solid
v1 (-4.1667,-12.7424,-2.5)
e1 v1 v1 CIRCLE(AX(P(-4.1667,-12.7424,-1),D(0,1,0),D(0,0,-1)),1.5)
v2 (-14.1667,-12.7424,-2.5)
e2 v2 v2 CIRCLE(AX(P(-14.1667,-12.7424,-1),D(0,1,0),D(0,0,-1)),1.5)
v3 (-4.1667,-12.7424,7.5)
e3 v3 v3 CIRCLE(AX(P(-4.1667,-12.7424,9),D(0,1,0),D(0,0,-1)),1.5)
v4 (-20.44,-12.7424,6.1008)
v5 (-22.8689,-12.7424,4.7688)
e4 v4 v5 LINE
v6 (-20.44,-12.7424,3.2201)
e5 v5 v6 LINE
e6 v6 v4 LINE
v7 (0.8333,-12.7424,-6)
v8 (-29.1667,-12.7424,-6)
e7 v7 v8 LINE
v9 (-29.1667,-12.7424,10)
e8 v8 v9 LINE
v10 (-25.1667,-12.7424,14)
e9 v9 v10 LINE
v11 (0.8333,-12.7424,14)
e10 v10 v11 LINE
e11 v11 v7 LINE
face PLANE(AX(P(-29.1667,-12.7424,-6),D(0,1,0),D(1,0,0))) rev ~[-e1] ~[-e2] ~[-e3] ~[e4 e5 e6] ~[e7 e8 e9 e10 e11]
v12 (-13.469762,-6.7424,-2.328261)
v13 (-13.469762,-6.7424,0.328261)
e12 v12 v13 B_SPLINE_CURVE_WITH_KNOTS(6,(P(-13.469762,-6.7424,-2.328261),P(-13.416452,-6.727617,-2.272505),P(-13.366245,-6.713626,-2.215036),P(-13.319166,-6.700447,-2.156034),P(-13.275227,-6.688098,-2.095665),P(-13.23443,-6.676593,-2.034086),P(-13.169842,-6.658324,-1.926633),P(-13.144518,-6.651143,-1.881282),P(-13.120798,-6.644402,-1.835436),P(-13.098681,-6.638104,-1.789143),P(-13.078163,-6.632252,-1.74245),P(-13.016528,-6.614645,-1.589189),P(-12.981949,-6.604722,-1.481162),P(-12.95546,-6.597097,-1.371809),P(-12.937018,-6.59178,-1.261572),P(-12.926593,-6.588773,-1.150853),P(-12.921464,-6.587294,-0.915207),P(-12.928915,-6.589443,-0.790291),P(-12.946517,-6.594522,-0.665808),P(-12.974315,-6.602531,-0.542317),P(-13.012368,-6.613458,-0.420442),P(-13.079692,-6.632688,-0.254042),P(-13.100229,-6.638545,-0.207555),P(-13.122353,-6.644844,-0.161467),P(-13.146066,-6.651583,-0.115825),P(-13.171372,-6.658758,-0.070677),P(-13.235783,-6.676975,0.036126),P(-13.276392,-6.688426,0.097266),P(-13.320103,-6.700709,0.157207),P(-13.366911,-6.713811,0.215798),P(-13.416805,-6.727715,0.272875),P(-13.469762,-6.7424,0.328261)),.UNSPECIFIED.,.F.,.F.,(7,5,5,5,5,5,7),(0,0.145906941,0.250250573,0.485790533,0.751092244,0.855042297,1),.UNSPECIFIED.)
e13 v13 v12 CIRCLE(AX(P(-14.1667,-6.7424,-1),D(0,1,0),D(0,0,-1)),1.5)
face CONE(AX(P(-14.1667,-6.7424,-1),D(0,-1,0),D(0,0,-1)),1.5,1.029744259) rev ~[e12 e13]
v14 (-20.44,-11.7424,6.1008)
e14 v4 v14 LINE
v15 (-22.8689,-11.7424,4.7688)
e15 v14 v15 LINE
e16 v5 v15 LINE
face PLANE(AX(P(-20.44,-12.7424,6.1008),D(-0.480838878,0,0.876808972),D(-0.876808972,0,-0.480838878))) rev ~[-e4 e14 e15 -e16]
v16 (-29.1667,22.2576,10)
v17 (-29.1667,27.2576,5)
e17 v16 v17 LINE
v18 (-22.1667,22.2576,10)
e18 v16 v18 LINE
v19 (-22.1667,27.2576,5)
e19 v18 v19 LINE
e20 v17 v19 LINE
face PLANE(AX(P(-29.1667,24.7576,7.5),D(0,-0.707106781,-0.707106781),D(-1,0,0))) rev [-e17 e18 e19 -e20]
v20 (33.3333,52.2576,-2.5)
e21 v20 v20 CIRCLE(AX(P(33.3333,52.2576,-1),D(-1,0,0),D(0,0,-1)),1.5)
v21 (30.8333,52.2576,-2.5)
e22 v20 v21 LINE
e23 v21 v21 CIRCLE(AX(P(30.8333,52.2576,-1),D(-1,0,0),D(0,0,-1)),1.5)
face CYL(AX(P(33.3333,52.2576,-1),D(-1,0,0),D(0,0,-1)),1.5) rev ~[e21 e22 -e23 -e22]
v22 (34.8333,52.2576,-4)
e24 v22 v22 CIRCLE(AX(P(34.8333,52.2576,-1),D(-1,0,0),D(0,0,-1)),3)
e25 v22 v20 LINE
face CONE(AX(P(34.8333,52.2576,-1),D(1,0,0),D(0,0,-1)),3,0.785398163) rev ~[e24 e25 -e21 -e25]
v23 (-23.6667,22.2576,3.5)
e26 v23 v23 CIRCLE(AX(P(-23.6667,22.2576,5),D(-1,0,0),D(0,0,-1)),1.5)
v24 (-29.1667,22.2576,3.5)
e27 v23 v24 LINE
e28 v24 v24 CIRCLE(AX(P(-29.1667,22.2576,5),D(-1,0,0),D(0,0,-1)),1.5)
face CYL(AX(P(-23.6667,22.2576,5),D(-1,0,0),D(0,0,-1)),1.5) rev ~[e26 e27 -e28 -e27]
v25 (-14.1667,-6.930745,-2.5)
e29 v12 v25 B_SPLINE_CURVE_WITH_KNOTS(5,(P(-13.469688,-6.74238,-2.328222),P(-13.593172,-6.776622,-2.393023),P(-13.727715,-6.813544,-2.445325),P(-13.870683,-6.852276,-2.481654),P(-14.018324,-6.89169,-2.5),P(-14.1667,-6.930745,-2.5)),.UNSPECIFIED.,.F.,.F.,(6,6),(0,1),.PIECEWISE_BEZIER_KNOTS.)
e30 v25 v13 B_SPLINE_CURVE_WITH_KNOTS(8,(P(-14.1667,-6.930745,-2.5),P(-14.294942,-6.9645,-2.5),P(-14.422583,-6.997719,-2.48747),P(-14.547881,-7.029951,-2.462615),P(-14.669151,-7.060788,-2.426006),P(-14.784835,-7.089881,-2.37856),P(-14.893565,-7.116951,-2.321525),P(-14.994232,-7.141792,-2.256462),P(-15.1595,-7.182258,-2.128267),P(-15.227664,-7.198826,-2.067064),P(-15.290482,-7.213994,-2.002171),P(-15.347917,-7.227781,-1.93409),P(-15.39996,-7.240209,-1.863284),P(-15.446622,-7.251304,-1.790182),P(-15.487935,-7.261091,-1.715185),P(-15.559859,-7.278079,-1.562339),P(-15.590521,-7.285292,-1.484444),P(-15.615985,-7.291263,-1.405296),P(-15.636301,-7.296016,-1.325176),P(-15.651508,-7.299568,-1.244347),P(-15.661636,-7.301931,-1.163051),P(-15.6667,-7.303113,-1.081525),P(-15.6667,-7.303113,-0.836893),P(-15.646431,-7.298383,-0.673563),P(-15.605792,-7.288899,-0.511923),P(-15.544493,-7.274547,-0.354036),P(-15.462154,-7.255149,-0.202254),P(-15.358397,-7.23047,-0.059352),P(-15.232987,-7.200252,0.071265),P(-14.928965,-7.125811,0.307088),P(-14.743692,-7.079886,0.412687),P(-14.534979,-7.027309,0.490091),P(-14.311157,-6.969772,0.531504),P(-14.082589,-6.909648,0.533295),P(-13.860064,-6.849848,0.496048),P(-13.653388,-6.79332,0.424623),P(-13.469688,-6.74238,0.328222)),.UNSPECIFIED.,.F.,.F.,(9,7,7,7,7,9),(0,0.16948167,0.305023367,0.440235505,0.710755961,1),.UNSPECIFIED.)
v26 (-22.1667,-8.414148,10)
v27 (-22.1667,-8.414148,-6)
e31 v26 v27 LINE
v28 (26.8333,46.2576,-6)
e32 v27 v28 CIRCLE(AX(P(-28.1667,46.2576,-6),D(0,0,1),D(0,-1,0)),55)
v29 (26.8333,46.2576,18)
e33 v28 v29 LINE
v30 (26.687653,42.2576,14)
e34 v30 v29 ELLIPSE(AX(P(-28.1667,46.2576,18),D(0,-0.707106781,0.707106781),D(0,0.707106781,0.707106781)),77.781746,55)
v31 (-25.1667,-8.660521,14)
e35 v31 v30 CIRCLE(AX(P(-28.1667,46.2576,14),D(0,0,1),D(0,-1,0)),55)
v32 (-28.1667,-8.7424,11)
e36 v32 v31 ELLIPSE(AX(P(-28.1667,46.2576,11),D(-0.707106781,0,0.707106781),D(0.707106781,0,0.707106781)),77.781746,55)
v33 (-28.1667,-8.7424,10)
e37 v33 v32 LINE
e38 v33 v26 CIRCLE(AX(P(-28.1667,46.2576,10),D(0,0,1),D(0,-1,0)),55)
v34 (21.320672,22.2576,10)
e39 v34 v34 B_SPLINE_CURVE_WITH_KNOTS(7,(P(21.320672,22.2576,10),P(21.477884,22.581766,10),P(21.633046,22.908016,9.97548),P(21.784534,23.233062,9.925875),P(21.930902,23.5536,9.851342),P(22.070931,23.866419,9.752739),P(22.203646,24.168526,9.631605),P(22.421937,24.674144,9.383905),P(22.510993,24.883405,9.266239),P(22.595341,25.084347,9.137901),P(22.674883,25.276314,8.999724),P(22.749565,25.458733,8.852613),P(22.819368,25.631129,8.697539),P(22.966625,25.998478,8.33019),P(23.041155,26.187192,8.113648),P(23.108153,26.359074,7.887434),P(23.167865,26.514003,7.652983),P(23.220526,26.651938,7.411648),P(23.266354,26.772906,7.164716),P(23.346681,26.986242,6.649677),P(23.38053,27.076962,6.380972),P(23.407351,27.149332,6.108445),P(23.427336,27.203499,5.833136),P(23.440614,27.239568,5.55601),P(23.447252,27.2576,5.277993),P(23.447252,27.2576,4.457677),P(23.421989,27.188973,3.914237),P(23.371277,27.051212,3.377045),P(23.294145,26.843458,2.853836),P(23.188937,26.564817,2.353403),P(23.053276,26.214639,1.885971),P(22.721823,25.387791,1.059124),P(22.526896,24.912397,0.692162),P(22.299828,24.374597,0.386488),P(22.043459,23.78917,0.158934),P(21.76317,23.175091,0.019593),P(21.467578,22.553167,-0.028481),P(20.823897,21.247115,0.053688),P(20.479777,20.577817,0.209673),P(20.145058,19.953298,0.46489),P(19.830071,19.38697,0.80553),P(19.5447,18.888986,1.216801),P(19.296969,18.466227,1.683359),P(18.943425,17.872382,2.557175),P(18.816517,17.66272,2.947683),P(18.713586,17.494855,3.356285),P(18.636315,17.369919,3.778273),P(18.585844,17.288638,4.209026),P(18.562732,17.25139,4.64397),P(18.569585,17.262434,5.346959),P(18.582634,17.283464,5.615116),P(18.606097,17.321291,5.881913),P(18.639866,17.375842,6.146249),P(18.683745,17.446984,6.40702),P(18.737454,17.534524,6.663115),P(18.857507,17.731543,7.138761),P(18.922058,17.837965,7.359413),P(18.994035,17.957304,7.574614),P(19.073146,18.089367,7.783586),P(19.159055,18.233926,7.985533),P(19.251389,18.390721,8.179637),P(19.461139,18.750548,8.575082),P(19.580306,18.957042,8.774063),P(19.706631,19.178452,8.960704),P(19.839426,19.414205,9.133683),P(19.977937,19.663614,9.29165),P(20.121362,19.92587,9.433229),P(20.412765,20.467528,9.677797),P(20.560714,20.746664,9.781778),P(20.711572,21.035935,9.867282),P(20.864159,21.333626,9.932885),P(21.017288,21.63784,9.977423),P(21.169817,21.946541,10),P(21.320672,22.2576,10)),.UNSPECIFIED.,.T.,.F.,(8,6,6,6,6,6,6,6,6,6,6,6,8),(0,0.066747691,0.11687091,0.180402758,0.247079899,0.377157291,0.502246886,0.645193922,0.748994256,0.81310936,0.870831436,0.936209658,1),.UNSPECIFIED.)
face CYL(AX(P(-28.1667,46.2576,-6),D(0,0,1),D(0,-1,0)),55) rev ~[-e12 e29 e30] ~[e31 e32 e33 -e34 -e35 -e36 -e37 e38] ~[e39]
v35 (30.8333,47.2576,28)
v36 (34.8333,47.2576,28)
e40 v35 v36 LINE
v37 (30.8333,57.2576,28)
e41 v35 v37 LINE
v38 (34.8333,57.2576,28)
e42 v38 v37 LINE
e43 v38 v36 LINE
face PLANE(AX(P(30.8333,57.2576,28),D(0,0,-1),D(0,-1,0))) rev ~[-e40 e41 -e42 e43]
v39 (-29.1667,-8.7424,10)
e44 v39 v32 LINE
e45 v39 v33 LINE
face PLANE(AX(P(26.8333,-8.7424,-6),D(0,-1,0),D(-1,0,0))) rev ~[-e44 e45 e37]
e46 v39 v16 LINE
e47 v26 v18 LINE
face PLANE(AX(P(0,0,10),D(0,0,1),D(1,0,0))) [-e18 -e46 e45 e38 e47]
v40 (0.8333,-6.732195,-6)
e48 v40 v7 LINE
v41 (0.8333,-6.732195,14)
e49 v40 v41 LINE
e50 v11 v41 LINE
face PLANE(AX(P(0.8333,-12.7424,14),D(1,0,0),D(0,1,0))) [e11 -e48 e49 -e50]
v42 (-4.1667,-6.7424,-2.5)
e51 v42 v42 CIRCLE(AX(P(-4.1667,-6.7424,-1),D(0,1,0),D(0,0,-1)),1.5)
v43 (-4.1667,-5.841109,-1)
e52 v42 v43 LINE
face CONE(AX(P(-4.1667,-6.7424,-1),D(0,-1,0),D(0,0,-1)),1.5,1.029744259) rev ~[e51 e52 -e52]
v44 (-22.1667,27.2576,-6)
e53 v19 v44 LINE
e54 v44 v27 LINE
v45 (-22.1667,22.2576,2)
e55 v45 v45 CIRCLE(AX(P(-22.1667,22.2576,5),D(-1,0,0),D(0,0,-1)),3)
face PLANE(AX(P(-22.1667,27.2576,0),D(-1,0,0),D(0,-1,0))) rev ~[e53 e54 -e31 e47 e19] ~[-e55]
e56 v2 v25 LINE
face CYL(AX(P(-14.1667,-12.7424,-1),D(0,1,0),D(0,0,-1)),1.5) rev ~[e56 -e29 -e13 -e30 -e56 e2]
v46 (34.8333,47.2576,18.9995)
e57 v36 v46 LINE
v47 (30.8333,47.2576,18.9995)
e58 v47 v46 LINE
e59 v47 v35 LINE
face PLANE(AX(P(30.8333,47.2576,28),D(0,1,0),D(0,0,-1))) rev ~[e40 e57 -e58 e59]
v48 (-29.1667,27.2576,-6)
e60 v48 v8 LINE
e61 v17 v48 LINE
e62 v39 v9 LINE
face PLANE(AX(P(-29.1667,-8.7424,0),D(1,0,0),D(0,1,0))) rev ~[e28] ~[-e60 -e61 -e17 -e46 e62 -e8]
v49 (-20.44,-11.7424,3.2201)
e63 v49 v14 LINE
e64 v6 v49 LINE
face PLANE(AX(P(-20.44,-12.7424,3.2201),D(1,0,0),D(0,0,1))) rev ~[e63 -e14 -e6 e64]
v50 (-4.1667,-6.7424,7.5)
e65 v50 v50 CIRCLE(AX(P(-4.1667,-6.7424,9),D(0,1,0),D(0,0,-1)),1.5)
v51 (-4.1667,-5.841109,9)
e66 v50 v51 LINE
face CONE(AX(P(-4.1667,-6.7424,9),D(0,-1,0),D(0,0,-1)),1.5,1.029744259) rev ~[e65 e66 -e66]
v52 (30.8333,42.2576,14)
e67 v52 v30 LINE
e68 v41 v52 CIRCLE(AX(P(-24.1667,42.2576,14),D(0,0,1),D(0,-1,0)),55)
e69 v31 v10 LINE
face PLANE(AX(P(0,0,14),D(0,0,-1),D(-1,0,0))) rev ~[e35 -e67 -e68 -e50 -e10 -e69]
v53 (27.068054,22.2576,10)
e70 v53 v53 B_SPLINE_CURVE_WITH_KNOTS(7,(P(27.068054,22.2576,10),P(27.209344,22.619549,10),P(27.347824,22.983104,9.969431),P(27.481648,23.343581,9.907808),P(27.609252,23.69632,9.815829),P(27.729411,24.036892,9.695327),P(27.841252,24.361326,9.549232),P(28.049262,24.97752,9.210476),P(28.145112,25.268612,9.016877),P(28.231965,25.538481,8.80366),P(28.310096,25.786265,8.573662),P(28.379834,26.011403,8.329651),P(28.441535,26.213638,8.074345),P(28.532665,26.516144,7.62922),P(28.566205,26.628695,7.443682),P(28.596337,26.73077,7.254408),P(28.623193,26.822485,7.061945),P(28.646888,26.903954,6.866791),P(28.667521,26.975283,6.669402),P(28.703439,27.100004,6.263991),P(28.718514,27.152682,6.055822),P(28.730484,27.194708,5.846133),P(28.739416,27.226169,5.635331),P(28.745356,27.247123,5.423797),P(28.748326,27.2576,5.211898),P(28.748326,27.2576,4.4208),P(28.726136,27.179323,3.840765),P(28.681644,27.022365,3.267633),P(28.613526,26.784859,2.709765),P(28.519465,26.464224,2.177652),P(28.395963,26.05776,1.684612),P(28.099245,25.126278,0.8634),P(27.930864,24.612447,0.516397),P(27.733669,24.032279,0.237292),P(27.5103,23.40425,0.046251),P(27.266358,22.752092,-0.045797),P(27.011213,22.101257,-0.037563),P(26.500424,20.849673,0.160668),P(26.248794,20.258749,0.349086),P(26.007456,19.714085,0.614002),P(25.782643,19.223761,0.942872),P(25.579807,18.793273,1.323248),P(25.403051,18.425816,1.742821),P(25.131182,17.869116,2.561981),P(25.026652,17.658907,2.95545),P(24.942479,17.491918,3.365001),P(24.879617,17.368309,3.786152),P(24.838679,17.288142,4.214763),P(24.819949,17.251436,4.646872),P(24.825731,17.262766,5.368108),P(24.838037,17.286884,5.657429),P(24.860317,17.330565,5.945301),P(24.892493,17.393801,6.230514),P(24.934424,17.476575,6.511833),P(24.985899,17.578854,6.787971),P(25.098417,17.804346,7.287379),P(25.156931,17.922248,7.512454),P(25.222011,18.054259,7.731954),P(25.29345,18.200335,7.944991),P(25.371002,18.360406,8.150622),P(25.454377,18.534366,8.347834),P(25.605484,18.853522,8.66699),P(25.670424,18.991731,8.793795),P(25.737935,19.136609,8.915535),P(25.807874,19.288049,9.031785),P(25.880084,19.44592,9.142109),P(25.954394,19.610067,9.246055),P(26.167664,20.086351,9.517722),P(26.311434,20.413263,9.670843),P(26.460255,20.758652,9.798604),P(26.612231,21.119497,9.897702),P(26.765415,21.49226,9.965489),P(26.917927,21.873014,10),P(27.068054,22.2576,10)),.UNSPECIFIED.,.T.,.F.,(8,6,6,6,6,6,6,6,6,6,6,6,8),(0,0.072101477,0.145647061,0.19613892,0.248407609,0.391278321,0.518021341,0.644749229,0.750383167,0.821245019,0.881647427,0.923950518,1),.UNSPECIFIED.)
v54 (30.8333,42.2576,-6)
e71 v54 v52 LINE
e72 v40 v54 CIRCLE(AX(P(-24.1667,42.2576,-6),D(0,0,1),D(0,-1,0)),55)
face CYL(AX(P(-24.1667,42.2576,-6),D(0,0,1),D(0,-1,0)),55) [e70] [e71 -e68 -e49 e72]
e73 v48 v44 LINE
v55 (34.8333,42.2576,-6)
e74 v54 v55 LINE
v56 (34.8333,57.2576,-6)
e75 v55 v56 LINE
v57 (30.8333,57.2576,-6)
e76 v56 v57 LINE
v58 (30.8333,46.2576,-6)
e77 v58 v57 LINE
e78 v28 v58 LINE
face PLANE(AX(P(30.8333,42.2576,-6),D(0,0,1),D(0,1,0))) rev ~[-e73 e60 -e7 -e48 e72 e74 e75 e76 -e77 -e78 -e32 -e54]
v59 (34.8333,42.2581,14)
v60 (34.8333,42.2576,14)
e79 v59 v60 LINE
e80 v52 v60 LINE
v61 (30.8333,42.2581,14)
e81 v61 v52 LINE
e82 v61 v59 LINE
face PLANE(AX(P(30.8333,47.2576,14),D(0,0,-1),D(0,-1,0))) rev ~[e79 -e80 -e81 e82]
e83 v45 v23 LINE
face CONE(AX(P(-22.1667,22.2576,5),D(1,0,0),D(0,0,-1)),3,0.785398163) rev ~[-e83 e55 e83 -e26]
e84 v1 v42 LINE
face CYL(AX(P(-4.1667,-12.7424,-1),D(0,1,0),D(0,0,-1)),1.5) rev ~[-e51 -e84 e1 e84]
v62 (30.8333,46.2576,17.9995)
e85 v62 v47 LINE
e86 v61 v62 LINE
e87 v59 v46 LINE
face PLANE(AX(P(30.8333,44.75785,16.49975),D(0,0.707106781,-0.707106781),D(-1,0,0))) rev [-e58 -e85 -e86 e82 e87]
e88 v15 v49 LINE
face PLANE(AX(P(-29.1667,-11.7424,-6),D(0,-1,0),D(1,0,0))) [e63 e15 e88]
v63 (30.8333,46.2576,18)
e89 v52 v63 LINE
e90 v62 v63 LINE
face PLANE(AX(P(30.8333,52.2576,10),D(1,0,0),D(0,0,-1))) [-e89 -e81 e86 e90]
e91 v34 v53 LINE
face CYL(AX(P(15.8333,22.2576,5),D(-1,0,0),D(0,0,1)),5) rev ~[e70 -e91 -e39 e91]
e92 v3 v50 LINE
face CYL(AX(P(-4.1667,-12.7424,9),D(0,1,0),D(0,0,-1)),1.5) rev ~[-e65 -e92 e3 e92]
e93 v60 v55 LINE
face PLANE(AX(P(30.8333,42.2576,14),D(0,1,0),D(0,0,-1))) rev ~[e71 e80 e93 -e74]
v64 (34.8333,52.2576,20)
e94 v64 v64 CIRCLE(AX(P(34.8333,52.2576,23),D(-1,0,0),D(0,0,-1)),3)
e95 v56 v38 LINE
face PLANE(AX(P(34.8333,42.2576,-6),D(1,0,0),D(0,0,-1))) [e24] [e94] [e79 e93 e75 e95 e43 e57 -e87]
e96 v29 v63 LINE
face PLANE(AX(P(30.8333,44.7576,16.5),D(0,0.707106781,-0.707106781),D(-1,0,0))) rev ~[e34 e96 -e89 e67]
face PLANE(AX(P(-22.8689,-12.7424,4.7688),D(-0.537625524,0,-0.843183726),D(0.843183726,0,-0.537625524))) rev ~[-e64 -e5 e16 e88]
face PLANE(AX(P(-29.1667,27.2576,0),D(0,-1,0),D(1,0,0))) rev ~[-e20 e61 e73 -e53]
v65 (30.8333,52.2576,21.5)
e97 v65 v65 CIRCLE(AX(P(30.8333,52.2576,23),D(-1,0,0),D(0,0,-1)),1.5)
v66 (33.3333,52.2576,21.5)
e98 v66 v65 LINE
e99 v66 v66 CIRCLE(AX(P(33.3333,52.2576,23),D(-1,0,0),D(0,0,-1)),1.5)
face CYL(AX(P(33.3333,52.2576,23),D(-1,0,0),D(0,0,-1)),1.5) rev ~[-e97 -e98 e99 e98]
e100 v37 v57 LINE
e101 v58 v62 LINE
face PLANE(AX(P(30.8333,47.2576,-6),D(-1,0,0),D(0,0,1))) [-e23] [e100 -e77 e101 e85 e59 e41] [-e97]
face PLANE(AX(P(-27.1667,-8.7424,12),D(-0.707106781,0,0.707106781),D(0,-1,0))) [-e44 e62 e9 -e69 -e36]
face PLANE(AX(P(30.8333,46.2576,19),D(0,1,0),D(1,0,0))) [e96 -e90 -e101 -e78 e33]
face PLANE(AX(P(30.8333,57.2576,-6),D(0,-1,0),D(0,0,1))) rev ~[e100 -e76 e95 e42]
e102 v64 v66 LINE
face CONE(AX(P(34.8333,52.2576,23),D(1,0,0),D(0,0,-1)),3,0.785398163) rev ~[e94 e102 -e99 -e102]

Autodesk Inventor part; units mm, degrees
ref_plane "YZ Plane" through (0, 0, 0) normal (1, 0, 0) x (0, 1, 0)
ref_plane "XZ Plane" through (0, 0, 0) normal (0, 1, 0) x (-1, 0, 0)
ref_plane "XY Plane" through (0, 0, 0) normal (0, 0, 1) x (1, 0, 0)
sketch "Sketch1" plane through (0, 0, 0) normal (0, 0, 1) x (1, 0, 0)
  line L0 (-29.1667, 27.2576) -> (-22.1667, 27.2576)
  line L1 (-22.1667, 27.2576) -> (-22.1667, -12.7424)
  line L2 (-22.1667, -12.7424) -> (-29.1667, -12.7424)
  line L3 (-29.1667, -12.7424) -> (-29.1667, 27.2576)
  point P0 (0, 0)
  dimension "d0" = 7
  dimension "d1" = 40
extrude "Extrusion1" add sketch "Sketch1" along normal blind 10
sketch "Sketch2" plane through (-22.1667, -12.7424, 0) normal (1, 0, 0) x (0, 0, -1)
  line L0 (-10, 0) -> (-10, 40) projected
  line L1 (0, 40) -> (-10, 40) projected
  point P0 (0, 12.7424)
  point P1 (-5, 35)
  dimension "d4" = 5
  dimension "d5" = 5
hole "Hole1" at (-22.1667, 22.2576, 5) direction (-1, 0, 0) diameter 3 depth 8 tip angle 118 countersink diameter 6 countersink angle 90
sketch "Sketch3" plane through (0, 0, 10) normal (0, 0, 1) x (1, 0, 0)
  line L0 (-29.1667, -12.7424) -> (30.8333, -12.7424)
  line L1 (30.8333, -12.7424) -> (30.8333, -8.7424)
  line L2 (30.8333, -8.7424) -> (-29.1667, -8.7424)
  line L3 (-29.1667, -8.7424) -> (-29.1667, -12.7424)
  line L4 (30.8333, -12.7424) -> (26.8333, -12.7424)
  line L5 (26.8333, -12.7424) -> (26.8333, 52.2576)
  line L6 (26.8333, 52.2576) -> (30.8333, 52.2576)
  line L7 (30.8333, 52.2576) -> (30.8333, -12.7424)
  point P0 (0, 0)
  dimension "d13" = 60
  dimension "d14" = 4
  dimension "d15" = 4
  dimension "d16" = 65
extrude "Extrusion2" add sketch "Sketch3" against normal blind 10
sketch "Sketch4" plane through (30.8333, 52.2576, 10) normal (1, 0, 0) x (0, 0, -1)
  line L0 (16, -5) -> (-18, -5)
  line L1 (-18, -5) -> (-18, 5)
  line L2 (-18, 5) -> (16, 5)
  line L3 (16, 5) -> (16, -5)
  line L4 (0, 0) -> (10, 0) projected
  circle A0 centre (5, -30) radius 1.5 projected
  point P0 (10, -52.2576)
  dimension "d21" = 5
  dimension "d22" = 23
  dimension "d23" = 11
  dimension "d24" = 5
extrude "Extrusion3" add sketch "Sketch4" against normal blind 4 contours L0 L1 L2 L3
sketch "Sketch9" plane through (0, 0, 10) normal (0, 0, 1) x (1, 0, 0)
  line L0 (26.7106, 42.2576) -> (30.8333, 47.2576)
  line L1 (30.8333, 47.2576) -> (34.8333, 47.2576)
  line L2 (34.8333, 47.2576) -> (30.8333, 47.2576) projected
  line L3 (34.8333, 47.2576) -> (30.7106, 42.2576)
  line L4 (30.7106, 42.2576) -> (26.7106, 42.2576)
  point P0 (0, 0)
extrude "Extrusion8" add sketch "Sketch9" against normal blind 10
sketch "Sketch10" plane through (0, 0, 10) normal (0, 0, 1) x (1, 0, 0)
  line L0 (30.8333, 42.2576) -> (34.8333, 47.2576)
  line L1 (34.8333, 47.2576) -> (34.8333, 42.2576)
  line L2 (30.8333, 47.2576) -> (34.8333, 47.2576) projected
  line L3 (34.8333, 42.2576) -> (30.8333, 42.2576)
  point P0 (0, 0)
extrude "Extrusion9" cut sketch "Sketch10" against normal blind 10
sketch "Sketch12" plane through (0, 0, 0) normal (0, 0, -1) x (-1, 0, 0)
  point P0 (0, 0)
sketch "Sketch13" plane through (0, 0, 0) normal (0, 0, -1) x (-1, 0, 0)
  line L0 (29.1667, -12.7424) -> (-30.8333, -12.7424)
  line L1 (-30.8333, -12.7424) -> (-30.8333, -8.7424)
  line L2 (-30.8333, -8.7424) -> (29.1667, -8.7424)
  line L3 (29.1667, -8.7424) -> (29.1667, -12.7424)
  line L4 (-30.8333, 42.2576) -> (-26.8333, 42.2576)
  line L5 (-26.8333, 42.2576) -> (-26.8333, -12.7424)
  line L6 (-26.8333, -12.7424) -> (-30.8333, -12.7424)
  line L7 (-30.8333, -12.7424) -> (-30.8333, 42.2576)
  line L8 (-30.8333, 42.2576) -> (-34.8333, 47.2576)
  line L9 (-34.8333, 47.2576) -> (-30.8333, 42.2576) projected
  line L10 (-34.8333, 47.2576) -> (-30.8333, 47.2576)
  line L11 (-30.8333, 47.2576) -> (-26.8333, 42.2576)
  point P0 (0, 0)
  dimension "d53" = 60
  dimension "d54" = 4
  dimension "d55" = 4
extrude "Extrusion10" add sketch "Sketch13" along normal blind 6
sketch "Sketch14" plane through (0, 0, 10) normal (0, 0, 1) x (1, 0, 0)
  point P0 (0, 0)
sketch "Sketch15" plane through (0, 0, 10) normal (0, 0, 1) x (1, 0, 0)
  line L0 (-29.1667, -12.7424) -> (30.8333, -12.7424) projected
  line L1 (34.8333, 47.2576) -> (-22.1667, 47.2576)
  line L2 (-22.1667, 47.2576) -> (-22.1667, -12.7424)
  line L3 (-22.1667, -12.7424) -> (34.8333, -12.7424)
  line L4 (34.8333, -12.7424) -> (34.8333, 47.2576)
  line L5 (-22.1667, -8.7424) -> (-22.1667, 27.2576) projected
  point P0 (0, 0)
extrude "Extrusion11" cut sketch "Sketch15" against normal blind 20
sketch "Sketch16" plane through (0, 0, -6) normal (0, 0, -1) x (-1, 0, 0)
  line L0 (29.1667, -12.7424) -> (-30.8333, -12.7424)
  line L1 (-30.8333, -12.7424) -> (-30.8333, -8.7424)
  line L2 (-30.8333, -8.7424) -> (29.1667, -8.7424)
  line L3 (29.1667, -8.7424) -> (29.1667, -12.7424)
  line L4 (-30.8333, 47.2576) -> (-26.8333, 47.2576)
  line L5 (-26.8333, 47.2576) -> (-26.8333, -12.7424)
  line L6 (-26.8333, -12.7424) -> (-30.8333, -12.7424)
  line L7 (-30.8333, -12.7424) -> (-30.8333, 47.2576)
  line L8 (-30.8333, 57.2576) -> (-30.8333, 47.2576) projected
  point P0 (0, 0)
  dimension "d60" = 4
  dimension "d61" = 4
extrude "Extrusion12" add sketch "Sketch16" against normal blind 20
sketch "Sketch17" plane through (0, 0, 0) normal (0, 0, -1) x (-1, 0, 0)
  line L0 (29.1667, 27.2576) -> (22.1667, 27.2576)
  line L1 (22.1667, 27.2576) -> (22.1667, -8.7424)
  line L2 (22.1667, -8.7424) -> (29.1667, -8.7424)
  line L3 (29.1667, -8.7424) -> (29.1667, 27.2576)
  point P0 (0, 0)
extrude "Extrusion13" add sketch "Sketch17" along normal blind 6
sketch "Sketch18" plane through (30.8333, 47.2576, 28) normal (1, 0, 0) x (0, 0, -1)
  line L0 (0, 0) -> (0, 10) projected
  line L1 (34, 10) -> (34, -60) projected
  point P0 (28, -47.2576)
  point P1 (5, 5)
  point P2 (29, 5)
  dimension "d66" = 5
  dimension "d67" = 5
hole "Hole3" at (30.8333, 52.2576, 23) at (30.8333, 52.2576, -1) direction (-1, 0, 0) diameter 3 depth 8 tip angle 118 countersink diameter 6 countersink angle 90
fillet "Fillet4" radius 55 2 edges at (26.8333, -8.7424, 4) (30.8333, -12.7424, 4)
chamfer "Chamfer2" distance 4 angle 45 1 edges at (-29.1667, -10.7424, 14)
chamfer "Chamfer3" distance 5 angle 45 2 edges at (28.8333, 47.2576, 14) (-25.6667, 27.2576, 10)
sketch "Sketch19" plane through (30.8333, 47.2576, 28) normal (1, 0, 0) x (0, 0, -1)
  line L0 (0, 0) -> (34, 0)
  line L1 (34, 0) -> (34, 10)
  line L2 (34, 10) -> (0, 10)
  line L3 (0, 10) -> (0, 0)
  point P0 (28, -47.2576)
extrude "Extrusion14" add sketch "Sketch19" along normal blind 4
sketch "Sketch20" plane through (30.8333, 42.2576, -6) normal (1, 0, 0) x (0, 0, -1)
  line L0 (-20, 0) -> (0, 0)
  line L1 (0, 0) -> (0, 5)
  line L2 (0, 5) -> (-20, 5)
  line L3 (-20, 5) -> (-20, 0)
  point P0 (-6, -42.2576)
extrude "Extrusion15" add sketch "Sketch20" along normal blind 4
chamfer "Chamfer4" distance 5 angle 45 1 edges at (32.8333, 47.2576, 14)
sketch "Sketch21" plane through (26.8333, 47.2576, 28) normal (-1, 0, 0) x (0, 0, 1)
  line L0 (-34, -5) -> (-34, 10) projected
  line L1 (0, 10) -> (-34, 10)
  line L2 (-34, 10) -> (-34, 0)
  line L3 (-34, 0) -> (0, 0)
  line L4 (0, 0) -> (0, 10)
  line L5 (-9, 0) -> (0, 0) projected
  point P0 (-28, -47.2576)
extrude "Extrusion16" cut sketch "Sketch21" against normal blind 4
chamfer "Chamfer5" distance 1 angle 45 1 edges at (26.8333, 47.2576, 6.5)
sketch "Sketch22" plane through (34.8333, 47.2576, 28) normal (1, 0, 0) x (0, 0, -1)
  line L0 (0, 10) -> (0, 0) projected
  line L1 (34, 10) -> (0, 10) projected
  line L2 (34, -5) -> (34, 10) projected
  point P0 (28, -47.2576)
  point P1 (5, 5)
  point P2 (29, 5)
  dimension "d94" = 5
  dimension "d95" = 5
  dimension "d96" = 5
  dimension "d97" = 5
hole "Hole4" at (34.8333, 52.2576, 23) at (34.8333, 52.2576, -1) direction (-1, 0, 0) diameter 3 depth 8 tip angle 118 countersink diameter 6 countersink angle 90
sketch "Sketch23" plane through (30.8333, 47.2576, 19) normal (0, 1, 0) x (1, 0, 0)
  line L0 (0, 0) -> (-4, 0)
  line L1 (-4, 0) -> (-4, 25)
  line L2 (-4, 25) -> (0, 25)
  line L3 (0, 25) -> (0, 0)
  point P0 (-30.8333, 19)
extrude "Extrusion17" cut sketch "Sketch23" against normal blind 1
sketch "Sketch24" plane through (0, 0, 10) normal (0, 0, 1) x (1, 0, 0)
  point P0 (0, 0)
ref_plane "Work Plane1" through (15.8333, -12.7424, -6) normal (-1, 0, 0) x (0, 0, 1)
sketch "Sketch25" plane through (15.8333, -12.7424, -6) normal (-1, 0, 0) x (0, 0, 1)
  circle A0 centre (11, 35) radius 1.5 projected
  circle A1 centre (11, 35) radius 5
  point P0 (6, 12.7424)
  dimension "d108" = 10
extrude "Extrusion18" cut sketch "Sketch25" against normal blind 50 contours A0 | A1
sketch "Sketch26" plane through (0, 0, 14) normal (0, 0, 1) x (1, 0, 0)
  line L0 (-24.1667, -12.7424) -> (0.8333, -12.7424)
  line L1 (0.8333, -12.7424) -> (0.8333, -8.7424)
  line L2 (0.8333, -8.7424) -> (-24.1667, -8.7424)
  line L3 (-24.1667, -8.7424) -> (-24.1667, -12.7424)
  line L4 (0.8333, -8.7424) -> (-4.1667, -8.7424)
  line L5 (-4.1667, -8.7424) -> (-4.1667, -5.7424)
  line L6 (-4.1667, -5.7424) -> (0.8333, -5.7424)
  line L7 (0.8333, -5.7424) -> (0.8333, -8.7424)
  point P0 (0, 0)
  dimension "d111" = 25
  dimension "d112" = 4
  dimension "d113" = 5
  dimension "d114" = 3
extrude "Extrusion19" add sketch "Sketch26" against normal blind 20
sketch "Sketch27" plane through (-29.1667, -12.7424, -6) normal (0, -1, 0) x (1, 0, 0)
  line L0 (55.8544, 20) -> (4, 20) projected
  line L1 (30, 20) -> (30, 0) projected
  line L2 (30, 0) -> (0, 0) projected
  point P0 (29.1667, 6)
  point P1 (25, 15)
  point P2 (25, 5)
  point P3 (15, 5)
  dimension "d117" = 5
  dimension "d118" = 5
  dimension "d119" = 5
  dimension "d120" = 5
  dimension "d121" = 10
hole "Hole5" at (-4.1667, -12.7424, 9) at (-4.1667, -12.7424, -1) at (-14.1667, -12.7424, -1) direction (0, 1, 0) diameter 3 depth 6 tip angle 118
sketch "Sketch28" plane through (-29.1667, -12.7424, -6) normal (0, -1, 0) x (1, 0, 0)
  line L0 (8.7267, 12.1008) -> (6.2978, 10.7688)
  line L1 (6.2978, 10.7688) -> (8.7267, 9.2201)
  line L2 (8.7267, 9.2201) -> (8.7267, 12.1008)
  point P0 (29.1667, 6)
extrude "Extrusion20" cut sketch "Sketch28" against normal blind 1
properties part number "z-stepper support arm"
